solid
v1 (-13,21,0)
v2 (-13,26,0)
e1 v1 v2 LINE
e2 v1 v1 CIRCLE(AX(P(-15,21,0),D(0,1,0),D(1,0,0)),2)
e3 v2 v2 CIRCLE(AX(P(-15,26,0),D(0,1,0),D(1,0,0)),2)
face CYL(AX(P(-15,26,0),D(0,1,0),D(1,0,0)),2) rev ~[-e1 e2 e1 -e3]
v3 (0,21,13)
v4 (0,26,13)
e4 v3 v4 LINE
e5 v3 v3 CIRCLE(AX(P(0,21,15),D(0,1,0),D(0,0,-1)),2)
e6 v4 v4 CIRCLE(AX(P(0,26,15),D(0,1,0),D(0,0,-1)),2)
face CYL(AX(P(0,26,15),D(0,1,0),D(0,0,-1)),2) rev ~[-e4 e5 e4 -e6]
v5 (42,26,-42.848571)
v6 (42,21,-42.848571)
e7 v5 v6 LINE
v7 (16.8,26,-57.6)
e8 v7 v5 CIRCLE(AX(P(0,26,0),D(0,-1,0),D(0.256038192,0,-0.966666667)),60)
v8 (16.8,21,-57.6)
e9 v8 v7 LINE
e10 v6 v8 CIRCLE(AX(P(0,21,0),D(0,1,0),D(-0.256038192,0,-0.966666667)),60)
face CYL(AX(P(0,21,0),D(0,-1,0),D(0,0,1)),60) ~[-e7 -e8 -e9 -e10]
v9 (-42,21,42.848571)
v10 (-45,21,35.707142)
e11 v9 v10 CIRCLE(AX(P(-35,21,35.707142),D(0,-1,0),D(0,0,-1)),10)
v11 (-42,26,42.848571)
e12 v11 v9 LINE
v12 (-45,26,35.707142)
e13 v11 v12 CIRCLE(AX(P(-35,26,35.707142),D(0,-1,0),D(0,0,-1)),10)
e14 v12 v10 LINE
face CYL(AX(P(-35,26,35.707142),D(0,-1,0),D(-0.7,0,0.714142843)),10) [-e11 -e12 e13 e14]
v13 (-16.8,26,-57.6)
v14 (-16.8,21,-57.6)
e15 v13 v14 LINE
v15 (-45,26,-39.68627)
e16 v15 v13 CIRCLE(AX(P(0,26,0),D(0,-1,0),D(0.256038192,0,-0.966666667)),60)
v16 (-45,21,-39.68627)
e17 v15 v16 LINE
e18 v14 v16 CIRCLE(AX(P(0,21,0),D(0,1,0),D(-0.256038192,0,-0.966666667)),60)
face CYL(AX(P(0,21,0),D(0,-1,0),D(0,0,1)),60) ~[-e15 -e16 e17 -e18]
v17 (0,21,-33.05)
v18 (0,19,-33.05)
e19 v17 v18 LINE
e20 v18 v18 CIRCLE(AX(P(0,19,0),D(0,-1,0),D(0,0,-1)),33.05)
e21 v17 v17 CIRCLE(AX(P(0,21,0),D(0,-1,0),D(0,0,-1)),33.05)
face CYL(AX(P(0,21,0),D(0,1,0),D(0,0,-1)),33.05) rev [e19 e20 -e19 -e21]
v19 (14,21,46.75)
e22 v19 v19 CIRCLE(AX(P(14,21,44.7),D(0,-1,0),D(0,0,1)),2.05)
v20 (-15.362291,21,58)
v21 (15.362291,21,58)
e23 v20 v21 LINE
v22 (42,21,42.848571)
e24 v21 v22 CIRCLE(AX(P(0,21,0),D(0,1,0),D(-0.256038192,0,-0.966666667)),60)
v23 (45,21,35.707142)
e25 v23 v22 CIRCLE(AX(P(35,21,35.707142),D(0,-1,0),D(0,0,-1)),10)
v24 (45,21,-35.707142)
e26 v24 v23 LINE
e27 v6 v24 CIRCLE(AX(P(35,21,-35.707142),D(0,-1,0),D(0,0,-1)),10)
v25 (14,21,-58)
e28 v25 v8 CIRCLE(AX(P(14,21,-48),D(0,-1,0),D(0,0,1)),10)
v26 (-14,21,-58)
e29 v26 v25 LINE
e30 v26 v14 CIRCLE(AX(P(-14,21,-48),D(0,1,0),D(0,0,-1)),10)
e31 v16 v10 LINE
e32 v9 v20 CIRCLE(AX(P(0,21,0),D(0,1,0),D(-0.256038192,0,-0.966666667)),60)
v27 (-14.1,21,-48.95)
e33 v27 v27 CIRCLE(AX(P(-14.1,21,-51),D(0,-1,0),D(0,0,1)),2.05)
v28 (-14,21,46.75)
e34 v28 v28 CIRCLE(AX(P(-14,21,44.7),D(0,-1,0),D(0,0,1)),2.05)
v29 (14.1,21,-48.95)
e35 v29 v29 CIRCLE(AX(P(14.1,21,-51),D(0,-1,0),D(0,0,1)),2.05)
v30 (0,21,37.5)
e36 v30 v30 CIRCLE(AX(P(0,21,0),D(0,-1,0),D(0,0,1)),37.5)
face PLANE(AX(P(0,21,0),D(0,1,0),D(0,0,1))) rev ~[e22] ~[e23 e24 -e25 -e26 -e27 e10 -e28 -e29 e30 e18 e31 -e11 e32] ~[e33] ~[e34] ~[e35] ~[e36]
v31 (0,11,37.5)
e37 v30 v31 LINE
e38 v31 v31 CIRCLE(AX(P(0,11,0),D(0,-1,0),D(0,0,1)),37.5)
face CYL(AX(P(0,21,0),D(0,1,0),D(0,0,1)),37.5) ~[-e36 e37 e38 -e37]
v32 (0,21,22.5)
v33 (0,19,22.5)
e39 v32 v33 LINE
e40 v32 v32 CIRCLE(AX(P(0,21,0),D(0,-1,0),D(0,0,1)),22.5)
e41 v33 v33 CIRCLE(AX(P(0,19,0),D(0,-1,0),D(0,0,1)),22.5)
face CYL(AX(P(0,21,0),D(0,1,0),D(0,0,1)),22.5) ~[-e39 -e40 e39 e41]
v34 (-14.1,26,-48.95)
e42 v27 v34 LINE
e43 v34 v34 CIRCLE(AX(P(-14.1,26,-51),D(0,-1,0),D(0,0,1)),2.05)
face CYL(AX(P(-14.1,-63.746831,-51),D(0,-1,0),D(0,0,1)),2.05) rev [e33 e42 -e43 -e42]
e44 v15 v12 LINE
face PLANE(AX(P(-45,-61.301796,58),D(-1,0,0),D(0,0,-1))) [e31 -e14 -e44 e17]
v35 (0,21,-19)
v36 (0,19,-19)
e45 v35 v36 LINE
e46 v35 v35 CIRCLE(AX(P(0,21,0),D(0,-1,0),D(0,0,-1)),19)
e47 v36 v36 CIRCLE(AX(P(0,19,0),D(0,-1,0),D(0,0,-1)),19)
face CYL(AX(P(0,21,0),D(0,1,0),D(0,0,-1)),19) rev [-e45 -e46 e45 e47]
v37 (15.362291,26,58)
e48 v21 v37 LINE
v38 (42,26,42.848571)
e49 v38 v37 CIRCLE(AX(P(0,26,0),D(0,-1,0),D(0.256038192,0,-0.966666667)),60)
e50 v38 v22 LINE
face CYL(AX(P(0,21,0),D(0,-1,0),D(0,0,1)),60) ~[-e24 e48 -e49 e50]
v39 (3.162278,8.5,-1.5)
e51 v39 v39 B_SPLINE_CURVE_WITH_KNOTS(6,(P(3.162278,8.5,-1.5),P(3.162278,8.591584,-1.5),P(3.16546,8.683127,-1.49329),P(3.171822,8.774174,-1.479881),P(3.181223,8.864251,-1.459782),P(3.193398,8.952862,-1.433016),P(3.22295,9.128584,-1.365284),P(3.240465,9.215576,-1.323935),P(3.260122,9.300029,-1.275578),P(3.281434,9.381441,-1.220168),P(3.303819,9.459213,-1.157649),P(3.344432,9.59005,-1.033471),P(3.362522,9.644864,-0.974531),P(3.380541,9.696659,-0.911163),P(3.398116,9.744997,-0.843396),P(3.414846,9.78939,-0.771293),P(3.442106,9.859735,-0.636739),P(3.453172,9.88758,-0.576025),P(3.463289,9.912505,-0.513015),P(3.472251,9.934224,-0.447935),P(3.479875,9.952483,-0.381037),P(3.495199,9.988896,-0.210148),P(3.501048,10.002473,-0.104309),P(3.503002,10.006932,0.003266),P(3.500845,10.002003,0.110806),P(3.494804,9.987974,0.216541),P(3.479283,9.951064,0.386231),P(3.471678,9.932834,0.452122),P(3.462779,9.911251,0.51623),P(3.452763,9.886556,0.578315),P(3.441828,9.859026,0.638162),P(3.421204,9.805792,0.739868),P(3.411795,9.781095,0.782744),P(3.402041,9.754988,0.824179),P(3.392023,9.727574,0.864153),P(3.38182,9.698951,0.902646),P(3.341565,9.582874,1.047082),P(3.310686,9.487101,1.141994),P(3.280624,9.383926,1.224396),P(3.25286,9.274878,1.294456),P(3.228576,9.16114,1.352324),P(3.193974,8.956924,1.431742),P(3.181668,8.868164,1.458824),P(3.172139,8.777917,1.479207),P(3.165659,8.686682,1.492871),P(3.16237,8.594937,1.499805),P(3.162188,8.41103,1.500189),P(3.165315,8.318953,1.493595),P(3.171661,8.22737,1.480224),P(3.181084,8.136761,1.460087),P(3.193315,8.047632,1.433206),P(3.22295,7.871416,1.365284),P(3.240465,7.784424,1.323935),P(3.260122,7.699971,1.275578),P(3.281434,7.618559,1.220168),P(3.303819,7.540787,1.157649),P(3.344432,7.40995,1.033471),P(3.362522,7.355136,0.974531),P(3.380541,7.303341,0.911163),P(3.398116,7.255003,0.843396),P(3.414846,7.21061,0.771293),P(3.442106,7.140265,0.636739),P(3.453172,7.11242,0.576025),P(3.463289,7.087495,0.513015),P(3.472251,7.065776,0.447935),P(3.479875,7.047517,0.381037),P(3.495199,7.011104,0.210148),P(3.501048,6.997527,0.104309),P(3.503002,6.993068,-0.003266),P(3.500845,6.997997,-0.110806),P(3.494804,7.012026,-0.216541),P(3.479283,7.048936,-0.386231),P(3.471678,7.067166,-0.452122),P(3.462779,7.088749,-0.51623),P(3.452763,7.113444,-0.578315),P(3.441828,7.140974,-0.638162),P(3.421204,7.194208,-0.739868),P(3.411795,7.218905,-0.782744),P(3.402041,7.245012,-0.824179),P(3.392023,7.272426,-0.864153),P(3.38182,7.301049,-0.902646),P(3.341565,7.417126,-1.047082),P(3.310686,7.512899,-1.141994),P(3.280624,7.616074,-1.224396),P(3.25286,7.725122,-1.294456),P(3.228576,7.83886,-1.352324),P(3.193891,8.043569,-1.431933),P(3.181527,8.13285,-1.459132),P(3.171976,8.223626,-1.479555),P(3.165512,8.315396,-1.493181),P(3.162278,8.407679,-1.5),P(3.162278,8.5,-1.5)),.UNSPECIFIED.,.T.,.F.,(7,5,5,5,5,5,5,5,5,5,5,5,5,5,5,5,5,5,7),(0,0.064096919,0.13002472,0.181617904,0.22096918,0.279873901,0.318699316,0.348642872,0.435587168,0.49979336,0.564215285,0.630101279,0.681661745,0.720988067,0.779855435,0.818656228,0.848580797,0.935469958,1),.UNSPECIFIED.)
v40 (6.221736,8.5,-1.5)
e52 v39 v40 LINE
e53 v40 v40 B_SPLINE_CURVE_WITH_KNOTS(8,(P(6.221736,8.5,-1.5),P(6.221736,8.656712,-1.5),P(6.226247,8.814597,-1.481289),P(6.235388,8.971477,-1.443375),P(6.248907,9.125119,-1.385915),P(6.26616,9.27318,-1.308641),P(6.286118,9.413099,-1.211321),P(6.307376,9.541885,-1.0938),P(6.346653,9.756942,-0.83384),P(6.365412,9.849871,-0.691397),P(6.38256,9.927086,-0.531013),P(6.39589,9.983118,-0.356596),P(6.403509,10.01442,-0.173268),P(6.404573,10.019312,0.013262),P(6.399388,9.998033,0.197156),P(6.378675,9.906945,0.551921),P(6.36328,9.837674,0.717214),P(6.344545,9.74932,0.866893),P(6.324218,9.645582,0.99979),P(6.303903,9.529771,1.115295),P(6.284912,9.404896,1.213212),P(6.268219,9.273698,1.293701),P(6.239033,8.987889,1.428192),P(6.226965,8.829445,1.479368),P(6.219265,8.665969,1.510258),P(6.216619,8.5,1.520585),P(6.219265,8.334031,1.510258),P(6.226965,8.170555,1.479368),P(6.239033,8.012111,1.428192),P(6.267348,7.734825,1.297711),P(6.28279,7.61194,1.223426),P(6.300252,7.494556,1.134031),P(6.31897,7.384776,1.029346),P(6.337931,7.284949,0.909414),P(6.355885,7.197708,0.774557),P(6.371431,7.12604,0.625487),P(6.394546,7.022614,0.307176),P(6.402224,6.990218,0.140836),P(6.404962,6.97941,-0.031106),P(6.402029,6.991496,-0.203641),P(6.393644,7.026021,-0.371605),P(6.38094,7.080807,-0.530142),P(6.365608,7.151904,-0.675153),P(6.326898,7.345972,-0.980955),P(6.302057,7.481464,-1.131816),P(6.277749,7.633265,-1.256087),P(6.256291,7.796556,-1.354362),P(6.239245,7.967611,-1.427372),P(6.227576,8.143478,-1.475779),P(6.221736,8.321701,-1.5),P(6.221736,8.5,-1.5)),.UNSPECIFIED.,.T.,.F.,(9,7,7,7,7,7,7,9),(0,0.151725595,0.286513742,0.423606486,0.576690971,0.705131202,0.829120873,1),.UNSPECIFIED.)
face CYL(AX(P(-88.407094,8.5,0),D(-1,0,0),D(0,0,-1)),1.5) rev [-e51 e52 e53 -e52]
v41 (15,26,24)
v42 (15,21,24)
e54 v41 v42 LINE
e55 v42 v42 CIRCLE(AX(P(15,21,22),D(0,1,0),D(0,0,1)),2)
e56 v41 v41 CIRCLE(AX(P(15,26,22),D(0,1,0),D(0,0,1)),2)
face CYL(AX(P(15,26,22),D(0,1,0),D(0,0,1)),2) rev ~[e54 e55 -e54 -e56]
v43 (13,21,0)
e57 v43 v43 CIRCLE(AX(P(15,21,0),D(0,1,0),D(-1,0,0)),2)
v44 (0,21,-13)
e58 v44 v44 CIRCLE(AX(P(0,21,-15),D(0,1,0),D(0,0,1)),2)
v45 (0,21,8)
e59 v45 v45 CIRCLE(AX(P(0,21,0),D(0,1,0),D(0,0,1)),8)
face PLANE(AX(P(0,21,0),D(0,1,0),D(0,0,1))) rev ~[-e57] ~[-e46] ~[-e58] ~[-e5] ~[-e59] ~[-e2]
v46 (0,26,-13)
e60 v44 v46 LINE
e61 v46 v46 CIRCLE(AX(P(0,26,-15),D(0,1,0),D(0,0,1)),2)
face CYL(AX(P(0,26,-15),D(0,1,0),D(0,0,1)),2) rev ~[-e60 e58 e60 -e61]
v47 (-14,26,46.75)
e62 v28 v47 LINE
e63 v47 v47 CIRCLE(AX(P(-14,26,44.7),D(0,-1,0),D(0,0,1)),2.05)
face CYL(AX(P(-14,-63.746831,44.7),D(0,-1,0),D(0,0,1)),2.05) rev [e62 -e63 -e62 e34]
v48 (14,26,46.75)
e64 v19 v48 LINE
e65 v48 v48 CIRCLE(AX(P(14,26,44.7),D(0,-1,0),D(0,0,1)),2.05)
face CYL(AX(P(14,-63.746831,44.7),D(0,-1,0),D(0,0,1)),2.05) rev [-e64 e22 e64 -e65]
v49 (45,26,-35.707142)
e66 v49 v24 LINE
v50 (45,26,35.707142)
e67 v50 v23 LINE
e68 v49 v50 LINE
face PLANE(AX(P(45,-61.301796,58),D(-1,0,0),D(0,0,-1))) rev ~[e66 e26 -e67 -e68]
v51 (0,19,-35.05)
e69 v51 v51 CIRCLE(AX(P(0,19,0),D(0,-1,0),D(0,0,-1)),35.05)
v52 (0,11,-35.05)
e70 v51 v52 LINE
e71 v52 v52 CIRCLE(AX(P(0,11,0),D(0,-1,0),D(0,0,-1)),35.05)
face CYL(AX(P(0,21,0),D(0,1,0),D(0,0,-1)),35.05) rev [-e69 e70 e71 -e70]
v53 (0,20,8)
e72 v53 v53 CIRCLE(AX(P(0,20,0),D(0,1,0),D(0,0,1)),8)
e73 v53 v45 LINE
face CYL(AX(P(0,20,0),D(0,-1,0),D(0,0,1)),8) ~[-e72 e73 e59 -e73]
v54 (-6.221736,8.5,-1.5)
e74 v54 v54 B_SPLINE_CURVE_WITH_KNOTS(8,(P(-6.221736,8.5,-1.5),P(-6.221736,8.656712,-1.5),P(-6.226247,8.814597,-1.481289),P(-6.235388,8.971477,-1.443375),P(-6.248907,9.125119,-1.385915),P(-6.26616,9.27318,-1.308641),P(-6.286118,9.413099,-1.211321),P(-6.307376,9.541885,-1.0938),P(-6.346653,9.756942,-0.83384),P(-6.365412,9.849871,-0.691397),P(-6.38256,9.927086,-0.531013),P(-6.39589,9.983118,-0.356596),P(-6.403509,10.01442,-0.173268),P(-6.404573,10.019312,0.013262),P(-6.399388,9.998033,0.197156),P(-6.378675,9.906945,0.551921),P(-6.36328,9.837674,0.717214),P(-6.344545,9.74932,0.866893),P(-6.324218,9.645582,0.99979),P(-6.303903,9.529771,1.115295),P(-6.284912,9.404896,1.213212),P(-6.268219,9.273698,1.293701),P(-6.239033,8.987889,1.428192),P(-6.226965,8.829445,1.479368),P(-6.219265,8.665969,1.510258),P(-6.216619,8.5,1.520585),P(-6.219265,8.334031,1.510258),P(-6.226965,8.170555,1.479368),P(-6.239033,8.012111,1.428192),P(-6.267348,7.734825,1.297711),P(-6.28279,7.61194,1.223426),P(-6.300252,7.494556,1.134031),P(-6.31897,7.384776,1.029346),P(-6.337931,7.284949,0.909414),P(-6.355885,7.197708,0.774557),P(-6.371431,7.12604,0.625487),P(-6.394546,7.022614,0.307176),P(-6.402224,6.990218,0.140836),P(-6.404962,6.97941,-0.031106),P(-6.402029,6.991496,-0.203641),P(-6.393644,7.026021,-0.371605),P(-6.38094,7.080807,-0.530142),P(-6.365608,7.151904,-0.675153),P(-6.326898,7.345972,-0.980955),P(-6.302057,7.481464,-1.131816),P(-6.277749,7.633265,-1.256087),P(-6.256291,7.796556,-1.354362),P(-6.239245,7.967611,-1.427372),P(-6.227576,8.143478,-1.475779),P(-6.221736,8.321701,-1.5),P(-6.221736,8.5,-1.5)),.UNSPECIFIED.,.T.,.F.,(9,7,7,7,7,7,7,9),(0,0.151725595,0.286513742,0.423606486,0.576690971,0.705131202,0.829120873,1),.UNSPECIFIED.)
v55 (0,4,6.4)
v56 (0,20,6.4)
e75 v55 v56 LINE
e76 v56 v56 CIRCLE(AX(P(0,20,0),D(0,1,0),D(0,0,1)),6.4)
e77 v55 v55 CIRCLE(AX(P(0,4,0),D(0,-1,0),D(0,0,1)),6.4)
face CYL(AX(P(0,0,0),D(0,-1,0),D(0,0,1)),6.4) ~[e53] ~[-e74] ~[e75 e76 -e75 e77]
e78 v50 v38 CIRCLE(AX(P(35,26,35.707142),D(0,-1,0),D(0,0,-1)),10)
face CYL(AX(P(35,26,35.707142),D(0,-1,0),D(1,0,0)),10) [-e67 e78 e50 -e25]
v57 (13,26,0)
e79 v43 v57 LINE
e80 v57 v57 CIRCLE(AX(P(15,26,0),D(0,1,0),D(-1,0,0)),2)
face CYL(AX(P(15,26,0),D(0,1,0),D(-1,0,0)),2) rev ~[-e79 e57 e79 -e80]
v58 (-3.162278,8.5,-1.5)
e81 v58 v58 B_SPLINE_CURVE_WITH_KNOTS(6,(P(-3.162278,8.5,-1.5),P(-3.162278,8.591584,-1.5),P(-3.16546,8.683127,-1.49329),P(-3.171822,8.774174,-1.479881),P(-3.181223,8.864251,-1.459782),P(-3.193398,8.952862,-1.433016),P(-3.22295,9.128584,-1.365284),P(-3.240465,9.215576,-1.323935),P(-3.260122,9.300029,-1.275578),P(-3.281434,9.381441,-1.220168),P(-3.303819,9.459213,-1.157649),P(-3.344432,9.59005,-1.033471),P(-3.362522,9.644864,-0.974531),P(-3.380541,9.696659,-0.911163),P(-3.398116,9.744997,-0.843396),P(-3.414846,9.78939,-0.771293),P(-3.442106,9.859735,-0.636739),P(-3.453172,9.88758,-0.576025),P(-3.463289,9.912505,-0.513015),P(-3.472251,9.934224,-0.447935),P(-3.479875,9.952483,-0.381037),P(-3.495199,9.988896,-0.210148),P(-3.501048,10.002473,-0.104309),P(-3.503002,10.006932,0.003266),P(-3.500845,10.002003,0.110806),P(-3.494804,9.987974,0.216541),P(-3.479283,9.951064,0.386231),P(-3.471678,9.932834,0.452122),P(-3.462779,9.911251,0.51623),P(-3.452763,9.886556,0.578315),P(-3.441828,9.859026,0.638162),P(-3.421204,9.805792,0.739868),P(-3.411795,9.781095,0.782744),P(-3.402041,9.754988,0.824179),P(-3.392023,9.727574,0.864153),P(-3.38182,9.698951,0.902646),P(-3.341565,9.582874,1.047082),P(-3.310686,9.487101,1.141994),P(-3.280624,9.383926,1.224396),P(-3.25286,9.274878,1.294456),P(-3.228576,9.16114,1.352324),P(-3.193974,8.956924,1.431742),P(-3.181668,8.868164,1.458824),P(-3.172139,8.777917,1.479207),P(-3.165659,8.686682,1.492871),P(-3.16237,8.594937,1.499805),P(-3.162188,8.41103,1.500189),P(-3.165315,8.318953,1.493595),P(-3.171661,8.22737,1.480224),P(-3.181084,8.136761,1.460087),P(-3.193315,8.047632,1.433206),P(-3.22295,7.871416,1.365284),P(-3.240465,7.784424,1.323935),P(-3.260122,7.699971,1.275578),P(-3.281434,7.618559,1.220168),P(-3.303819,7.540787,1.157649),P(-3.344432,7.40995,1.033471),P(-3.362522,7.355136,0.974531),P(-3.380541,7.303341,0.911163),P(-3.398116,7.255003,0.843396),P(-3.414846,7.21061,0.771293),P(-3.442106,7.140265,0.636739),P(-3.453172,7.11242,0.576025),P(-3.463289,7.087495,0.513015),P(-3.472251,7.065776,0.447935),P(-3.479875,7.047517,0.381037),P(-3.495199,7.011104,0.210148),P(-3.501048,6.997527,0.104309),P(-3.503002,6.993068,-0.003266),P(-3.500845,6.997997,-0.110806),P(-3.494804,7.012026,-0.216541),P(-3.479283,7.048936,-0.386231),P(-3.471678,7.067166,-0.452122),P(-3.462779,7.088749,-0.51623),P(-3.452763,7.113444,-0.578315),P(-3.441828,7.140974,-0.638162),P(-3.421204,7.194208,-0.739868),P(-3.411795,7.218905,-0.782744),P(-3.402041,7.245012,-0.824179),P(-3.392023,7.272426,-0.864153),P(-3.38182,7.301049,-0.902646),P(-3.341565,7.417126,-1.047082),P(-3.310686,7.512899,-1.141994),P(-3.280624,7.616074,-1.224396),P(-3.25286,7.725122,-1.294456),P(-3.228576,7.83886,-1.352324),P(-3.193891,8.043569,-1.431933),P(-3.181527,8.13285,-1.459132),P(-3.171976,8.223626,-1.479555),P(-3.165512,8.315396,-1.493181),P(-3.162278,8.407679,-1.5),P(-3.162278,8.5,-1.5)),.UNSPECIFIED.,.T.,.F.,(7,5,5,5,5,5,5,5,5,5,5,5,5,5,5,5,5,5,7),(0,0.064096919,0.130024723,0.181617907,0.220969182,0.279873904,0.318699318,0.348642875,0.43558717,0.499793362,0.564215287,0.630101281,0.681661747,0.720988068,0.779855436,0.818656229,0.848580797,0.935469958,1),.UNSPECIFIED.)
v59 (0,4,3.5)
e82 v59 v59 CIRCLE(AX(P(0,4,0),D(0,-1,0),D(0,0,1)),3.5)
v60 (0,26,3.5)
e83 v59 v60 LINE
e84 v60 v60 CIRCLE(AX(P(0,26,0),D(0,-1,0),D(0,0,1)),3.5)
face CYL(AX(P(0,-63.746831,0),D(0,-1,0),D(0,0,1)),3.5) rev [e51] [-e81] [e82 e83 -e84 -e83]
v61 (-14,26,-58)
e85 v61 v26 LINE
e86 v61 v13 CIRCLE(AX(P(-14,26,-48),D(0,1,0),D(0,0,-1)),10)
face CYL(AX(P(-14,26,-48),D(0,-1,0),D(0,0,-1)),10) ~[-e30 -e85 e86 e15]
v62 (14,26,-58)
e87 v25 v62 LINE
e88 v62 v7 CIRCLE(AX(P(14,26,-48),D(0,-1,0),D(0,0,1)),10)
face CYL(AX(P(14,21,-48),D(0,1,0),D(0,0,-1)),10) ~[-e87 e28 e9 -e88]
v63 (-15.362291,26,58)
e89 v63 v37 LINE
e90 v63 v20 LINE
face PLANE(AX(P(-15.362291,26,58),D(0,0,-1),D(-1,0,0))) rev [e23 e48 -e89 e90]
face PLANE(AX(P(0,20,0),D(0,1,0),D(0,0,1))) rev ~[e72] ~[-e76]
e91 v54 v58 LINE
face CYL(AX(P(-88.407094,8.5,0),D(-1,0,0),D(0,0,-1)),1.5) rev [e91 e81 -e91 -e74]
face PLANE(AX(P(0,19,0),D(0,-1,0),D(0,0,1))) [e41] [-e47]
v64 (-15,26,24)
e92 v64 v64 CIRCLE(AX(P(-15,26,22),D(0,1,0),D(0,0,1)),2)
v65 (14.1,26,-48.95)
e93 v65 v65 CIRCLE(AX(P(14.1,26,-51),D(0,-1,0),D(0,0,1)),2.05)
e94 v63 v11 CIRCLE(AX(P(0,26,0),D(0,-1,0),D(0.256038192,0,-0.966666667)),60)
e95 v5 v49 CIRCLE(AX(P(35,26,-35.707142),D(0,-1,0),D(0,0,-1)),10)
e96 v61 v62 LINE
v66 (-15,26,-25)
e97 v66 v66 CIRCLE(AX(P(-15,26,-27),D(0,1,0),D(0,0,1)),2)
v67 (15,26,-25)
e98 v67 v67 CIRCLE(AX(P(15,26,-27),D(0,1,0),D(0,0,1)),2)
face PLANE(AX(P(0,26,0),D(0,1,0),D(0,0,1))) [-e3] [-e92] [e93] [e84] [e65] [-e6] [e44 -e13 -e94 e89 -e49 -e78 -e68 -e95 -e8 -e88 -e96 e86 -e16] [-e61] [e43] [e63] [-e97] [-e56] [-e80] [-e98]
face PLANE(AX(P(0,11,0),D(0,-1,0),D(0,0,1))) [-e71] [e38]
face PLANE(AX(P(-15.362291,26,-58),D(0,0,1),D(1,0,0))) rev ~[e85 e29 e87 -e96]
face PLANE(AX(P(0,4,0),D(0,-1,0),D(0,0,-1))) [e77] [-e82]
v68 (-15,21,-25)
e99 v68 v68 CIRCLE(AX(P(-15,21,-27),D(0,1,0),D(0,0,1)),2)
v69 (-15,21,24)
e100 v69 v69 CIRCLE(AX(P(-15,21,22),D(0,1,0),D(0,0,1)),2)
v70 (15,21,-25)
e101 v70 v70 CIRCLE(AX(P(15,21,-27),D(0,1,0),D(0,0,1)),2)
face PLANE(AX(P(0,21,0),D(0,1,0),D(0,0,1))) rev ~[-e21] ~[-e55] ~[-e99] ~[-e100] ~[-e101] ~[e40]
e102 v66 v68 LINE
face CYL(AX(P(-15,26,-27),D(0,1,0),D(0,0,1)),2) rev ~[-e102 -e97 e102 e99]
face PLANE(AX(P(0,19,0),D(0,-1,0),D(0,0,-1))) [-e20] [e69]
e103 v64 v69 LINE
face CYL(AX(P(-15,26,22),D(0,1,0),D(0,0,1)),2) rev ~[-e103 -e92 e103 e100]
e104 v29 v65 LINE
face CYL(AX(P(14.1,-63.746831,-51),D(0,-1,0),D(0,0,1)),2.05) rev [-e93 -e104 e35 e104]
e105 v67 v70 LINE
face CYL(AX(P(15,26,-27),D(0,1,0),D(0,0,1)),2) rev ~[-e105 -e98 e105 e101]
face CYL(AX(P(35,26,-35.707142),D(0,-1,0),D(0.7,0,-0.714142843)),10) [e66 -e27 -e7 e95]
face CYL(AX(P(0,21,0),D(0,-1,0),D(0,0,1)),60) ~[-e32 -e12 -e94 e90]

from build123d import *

# Parameters (mm, degrees)
SKETCH2_R                = 6.4
BOSS_EXTRUDE1_DEPTH      = 20
SKETCH3_R                = 8
BOSS_EXTRUDE2_DEPTH      = 1
SKETCH4_R                = 60
BOSS_EXTRUDE3_DEPTH      = 5
SKETCH5_R                = 2
CUT_EXTRUDE1_DEPTH       = 89.746830929
CIRPATTERN1_COUNT        = 4
CUT_EXTRUDE2_DEPTH       = 89.746830929
CUT_EXTRUDE2_DEPTH_BACK  = 89.746830929
SKETCH6_R                = 3.5
CUT_EXTRUDE3_DEPTH       = 89.746830929
CUT_EXTRUDE3_DEPTH_BACK  = 89.746830929
SKETCH7_R                = 2.05
CUT_EXTRUDE4_DEPTH       = 89.746830929
CUT_EXTRUDE6_DEPTH       = 88.407093534
CUT_EXTRUDE6_DEPTH_BACK  = 88.407093534
SKETCH10_R               = 1.5
CUT_EXTRUDE9_DEPTH       = 88.407093563
CUT_EXTRUDE9_DEPTH_BACK  = 4
SKETCH14_R               = 6.4
SKETCH14_R_2             = 3.5
SKETCH16_R               = 37.5
SKETCH16_R_2             = 35.05
BOSS_EXTRUDE4_DEPTH      = 10
SKETCH19_R               = 2
CUT_EXTRUDE10_DEPTH      = 5
SKETCH20_R               = 35.05
SKETCH20_R_2             = 33.05
BOSS_EXTRUDE5_DEPTH      = 2
SKETCH21_R               = 22.5
SKETCH21_R_2             = 19
BOSS_EXTRUDE6_DEPTH      = 2
CUT_EXTRUDE11_DEPTH      = 87.301796067
CUT_EXTRUDE11_DEPTH_BACK = 87.301796067
SKETCH22_OUTSIDE_W       = 155.668
SKETCH22_OUTSIDE_H       = 151.668
SKETCH22_OUTSIDE_W_2     = 90
SKETCH22_OUTSIDE_H_2     = 116
FILLET1_R                = 10


with BuildPart() as part:
    # Sketch2 → Boss-Extrude1 (new body)
    with BuildSketch(Plane(origin=(0, 0, 0), x_dir=(1, 0, 0), z_dir=(0, 1, 0))):
        with Locations(Location((0, 0, 0), (0, 0, 270))):
            Circle(SKETCH2_R)
    extrude(amount=BOSS_EXTRUDE1_DEPTH)

    # Sketch3 → Boss-Extrude2 (add)
    with BuildSketch(Plane(origin=(0, 20, 0), x_dir=(1, 0, 0), z_dir=(0, 1, 0))):
        with Locations(Location((0, 0, 0), (0, 0, 270))):
            Circle(SKETCH3_R)
    extrude(amount=BOSS_EXTRUDE2_DEPTH)

    # Sketch4 → Boss-Extrude3 (add)
    with BuildSketch(Plane(origin=(0, 21, 0), x_dir=(1, 0, 0), z_dir=(0, 1, 0))):
        with Locations(Location((0, 0, 0), (0, 0, 270))):
            Circle(SKETCH4_R)
    extrude(amount=BOSS_EXTRUDE3_DEPTH)

    # Sketch5 → Cut-Extrude1 (cut, symmetric)
    with BuildSketch(Plane(origin=(0, 26, 0), x_dir=(1, 0, 0), z_dir=(0, 1, 0))):
        with Locations(Location((0, 15, 0), (0, 0, 270))):
            Circle(SKETCH5_R)
    cut_extrude1 = extrude(amount=CUT_EXTRUDE1_DEPTH, both=True, mode=Mode.SUBTRACT)

    # CirPattern1: Cut-Extrude1 ×4 about axis
    cirpattern1_axis = Axis((0, 0, 0), (0, 1, 0))
    for i in range(1, CIRPATTERN1_COUNT):
        add(cut_extrude1.rotate(cirpattern1_axis, i * 360 / CIRPATTERN1_COUNT), mode=Mode.SUBTRACT)

    # Sketch6 → Cut-Extrude2 (cut, two sides: drawn at the far end of the back side and taken through both)
    with BuildSketch(Plane(origin=(0, 26, 0), x_dir=(1, 0, 0), z_dir=(0, 1, 0)).offset(-CUT_EXTRUDE2_DEPTH_BACK)):
        with Locations(Location((0, 0, 0), (0, 0, 270))):
            Circle(SKETCH6_R)
    extrude(amount=CUT_EXTRUDE2_DEPTH + CUT_EXTRUDE2_DEPTH_BACK, mode=Mode.SUBTRACT)

    # Sketch7 → Cut-Extrude3 (cut, two sides: drawn at the far end of the back side and taken through both)
    with BuildSketch(Plane(origin=(0, 26, 0), x_dir=(1, 0, 0), z_dir=(0, 1, 0)).offset(-CUT_EXTRUDE3_DEPTH_BACK)):
        with Locations(Location((-14, -44.7, 0), (0, 0, 270))):
            Circle(SKETCH7_R)
        with Locations(Location((14, -44.7, 0), (0, 0, 270))):
            Circle(SKETCH7_R)
        with Locations(Location((-14.1, 51, 0), (0, 0, 270))):
            Circle(SKETCH7_R)
        with Locations(Location((14.1, 51, 0), (0, 0, 270))):
            Circle(SKETCH7_R)
    extrude(amount=CUT_EXTRUDE3_DEPTH + CUT_EXTRUDE3_DEPTH_BACK, mode=Mode.SUBTRACT)

    # Sketch8 → Cut-Extrude4 (cut, symmetric)
    with BuildSketch(Plane(origin=(0, 26, 0), x_dir=(1, 0, 0), z_dir=(0, 1, 0))):
        with BuildLine():
            Line((-15.362291496, 58), (15.362291496, 58))
            ThreePointArc((15.362291496, 58), (0, 60), (-15.362291496, 58))
        make_face()
    cut_extrude4 = extrude(amount=CUT_EXTRUDE4_DEPTH, both=True, mode=Mode.SUBTRACT)

    # Mirror1: Cut-Extrude4 across plane
    add(cut_extrude4.mirror(Plane.XY), mode=Mode.SUBTRACT)

    # Sketch10 → Cut-Extrude6 (cut, two sides: drawn at the far end of the back side and taken through both)
    with BuildSketch(Plane(origin=(0, 0, 0), x_dir=(0, 0, -1), z_dir=(1, 0, 0)).offset(-CUT_EXTRUDE6_DEPTH_BACK)):
        with Locations((0, 8.5)):
            Circle(SKETCH10_R)
    extrude(amount=CUT_EXTRUDE6_DEPTH + CUT_EXTRUDE6_DEPTH_BACK, mode=Mode.SUBTRACT)

    # Sketch14 → Cut-Extrude9 (cut, two sides: drawn at the far end of the back side and taken through both)
    with BuildSketch(Plane.XZ.offset(-CUT_EXTRUDE9_DEPTH_BACK)):
        with Locations(Location((0, 0, 0), (0, 0, 270))):
            Circle(SKETCH14_R)
        with Locations(Location((0, 0, 0), (0, 0, 90))):
            Circle(SKETCH14_R_2, mode=Mode.SUBTRACT)
    extrude(amount=CUT_EXTRUDE9_DEPTH + CUT_EXTRUDE9_DEPTH_BACK, mode=Mode.SUBTRACT)

    # Sketch16 → Boss-Extrude4 (add)
    with BuildSketch(Plane.XZ.offset(-21)):
        with Locations(Location((0, 0, 0), (0, 0, 90))):
            Circle(SKETCH16_R)
        with Locations(Location((0, 0, 0), (0, 0, 270))):
            Circle(SKETCH16_R_2, mode=Mode.SUBTRACT)
    extrude(amount=BOSS_EXTRUDE4_DEPTH)

    # Sketch19 → Cut-Extrude10 (cut)
    with BuildSketch(Plane(origin=(0, 26, 0), x_dir=(1, 0, 0), z_dir=(0, 1, 0))):
        with Locations(Location((-15, 27, 0), (0, 0, 270))):
            Circle(SKETCH19_R)
        with Locations(Location((15, 27, 0), (0, 0, 270))):
            Circle(SKETCH19_R)
        with Locations(Location((15, -22, 0), (0, 0, 270))):
            Circle(SKETCH19_R)
        with Locations(Location((-15, -22, 0), (0, 0, 270))):
            Circle(SKETCH19_R)
    extrude(amount=-CUT_EXTRUDE10_DEPTH, mode=Mode.SUBTRACT)

    # Sketch20 → Boss-Extrude5 (add)
    with BuildSketch(Plane.XZ.offset(-21)):
        with Locations(Location((0, 0, 0), (0, 0, 270))):
            Circle(SKETCH20_R)
        with Locations(Location((0, 0, 0), (0, 0, 270))):
            Circle(SKETCH20_R_2, mode=Mode.SUBTRACT)
    extrude(amount=BOSS_EXTRUDE5_DEPTH)

    # Sketch21 → Boss-Extrude6 (add)
    with BuildSketch(Plane.XZ.offset(-21)):
        with Locations(Location((0, 0, 0), (0, 0, 90))):
            Circle(SKETCH21_R)
        with Locations(Location((0, 0, 0), (0, 0, 270))):
            Circle(SKETCH21_R_2, mode=Mode.SUBTRACT)
    extrude(amount=BOSS_EXTRUDE6_DEPTH)

    # Sketch22 outside → Cut-Extrude11 (cut, two sides: drawn at the far end of the back side and taken through both)
    with BuildSketch(Plane(origin=(0, 26, 0), x_dir=(1, 0, 0), z_dir=(0, 1, 0)).offset(-CUT_EXTRUDE11_DEPTH_BACK)):
        Rectangle(SKETCH22_OUTSIDE_W, SKETCH22_OUTSIDE_H)
        Rectangle(SKETCH22_OUTSIDE_W_2, SKETCH22_OUTSIDE_H_2, mode=Mode.SUBTRACT)
    extrude(amount=CUT_EXTRUDE11_DEPTH + CUT_EXTRUDE11_DEPTH_BACK, mode=Mode.SUBTRACT)

    # Fillet1
    fillet1_edges = [part.edges().sort_by_distance(p)[0] for p in [
        (45, 23.5, 39.686269666),
        (45, 23.5, -39.686269666),
        (-45, 23.5, 39.686269666),
        (-15.362291496, 23.5, -58),
        (15.362291496, 23.5, -58),
    ]]
    fillet(fillet1_edges, radius=FILLET1_R)


solid = part.part
